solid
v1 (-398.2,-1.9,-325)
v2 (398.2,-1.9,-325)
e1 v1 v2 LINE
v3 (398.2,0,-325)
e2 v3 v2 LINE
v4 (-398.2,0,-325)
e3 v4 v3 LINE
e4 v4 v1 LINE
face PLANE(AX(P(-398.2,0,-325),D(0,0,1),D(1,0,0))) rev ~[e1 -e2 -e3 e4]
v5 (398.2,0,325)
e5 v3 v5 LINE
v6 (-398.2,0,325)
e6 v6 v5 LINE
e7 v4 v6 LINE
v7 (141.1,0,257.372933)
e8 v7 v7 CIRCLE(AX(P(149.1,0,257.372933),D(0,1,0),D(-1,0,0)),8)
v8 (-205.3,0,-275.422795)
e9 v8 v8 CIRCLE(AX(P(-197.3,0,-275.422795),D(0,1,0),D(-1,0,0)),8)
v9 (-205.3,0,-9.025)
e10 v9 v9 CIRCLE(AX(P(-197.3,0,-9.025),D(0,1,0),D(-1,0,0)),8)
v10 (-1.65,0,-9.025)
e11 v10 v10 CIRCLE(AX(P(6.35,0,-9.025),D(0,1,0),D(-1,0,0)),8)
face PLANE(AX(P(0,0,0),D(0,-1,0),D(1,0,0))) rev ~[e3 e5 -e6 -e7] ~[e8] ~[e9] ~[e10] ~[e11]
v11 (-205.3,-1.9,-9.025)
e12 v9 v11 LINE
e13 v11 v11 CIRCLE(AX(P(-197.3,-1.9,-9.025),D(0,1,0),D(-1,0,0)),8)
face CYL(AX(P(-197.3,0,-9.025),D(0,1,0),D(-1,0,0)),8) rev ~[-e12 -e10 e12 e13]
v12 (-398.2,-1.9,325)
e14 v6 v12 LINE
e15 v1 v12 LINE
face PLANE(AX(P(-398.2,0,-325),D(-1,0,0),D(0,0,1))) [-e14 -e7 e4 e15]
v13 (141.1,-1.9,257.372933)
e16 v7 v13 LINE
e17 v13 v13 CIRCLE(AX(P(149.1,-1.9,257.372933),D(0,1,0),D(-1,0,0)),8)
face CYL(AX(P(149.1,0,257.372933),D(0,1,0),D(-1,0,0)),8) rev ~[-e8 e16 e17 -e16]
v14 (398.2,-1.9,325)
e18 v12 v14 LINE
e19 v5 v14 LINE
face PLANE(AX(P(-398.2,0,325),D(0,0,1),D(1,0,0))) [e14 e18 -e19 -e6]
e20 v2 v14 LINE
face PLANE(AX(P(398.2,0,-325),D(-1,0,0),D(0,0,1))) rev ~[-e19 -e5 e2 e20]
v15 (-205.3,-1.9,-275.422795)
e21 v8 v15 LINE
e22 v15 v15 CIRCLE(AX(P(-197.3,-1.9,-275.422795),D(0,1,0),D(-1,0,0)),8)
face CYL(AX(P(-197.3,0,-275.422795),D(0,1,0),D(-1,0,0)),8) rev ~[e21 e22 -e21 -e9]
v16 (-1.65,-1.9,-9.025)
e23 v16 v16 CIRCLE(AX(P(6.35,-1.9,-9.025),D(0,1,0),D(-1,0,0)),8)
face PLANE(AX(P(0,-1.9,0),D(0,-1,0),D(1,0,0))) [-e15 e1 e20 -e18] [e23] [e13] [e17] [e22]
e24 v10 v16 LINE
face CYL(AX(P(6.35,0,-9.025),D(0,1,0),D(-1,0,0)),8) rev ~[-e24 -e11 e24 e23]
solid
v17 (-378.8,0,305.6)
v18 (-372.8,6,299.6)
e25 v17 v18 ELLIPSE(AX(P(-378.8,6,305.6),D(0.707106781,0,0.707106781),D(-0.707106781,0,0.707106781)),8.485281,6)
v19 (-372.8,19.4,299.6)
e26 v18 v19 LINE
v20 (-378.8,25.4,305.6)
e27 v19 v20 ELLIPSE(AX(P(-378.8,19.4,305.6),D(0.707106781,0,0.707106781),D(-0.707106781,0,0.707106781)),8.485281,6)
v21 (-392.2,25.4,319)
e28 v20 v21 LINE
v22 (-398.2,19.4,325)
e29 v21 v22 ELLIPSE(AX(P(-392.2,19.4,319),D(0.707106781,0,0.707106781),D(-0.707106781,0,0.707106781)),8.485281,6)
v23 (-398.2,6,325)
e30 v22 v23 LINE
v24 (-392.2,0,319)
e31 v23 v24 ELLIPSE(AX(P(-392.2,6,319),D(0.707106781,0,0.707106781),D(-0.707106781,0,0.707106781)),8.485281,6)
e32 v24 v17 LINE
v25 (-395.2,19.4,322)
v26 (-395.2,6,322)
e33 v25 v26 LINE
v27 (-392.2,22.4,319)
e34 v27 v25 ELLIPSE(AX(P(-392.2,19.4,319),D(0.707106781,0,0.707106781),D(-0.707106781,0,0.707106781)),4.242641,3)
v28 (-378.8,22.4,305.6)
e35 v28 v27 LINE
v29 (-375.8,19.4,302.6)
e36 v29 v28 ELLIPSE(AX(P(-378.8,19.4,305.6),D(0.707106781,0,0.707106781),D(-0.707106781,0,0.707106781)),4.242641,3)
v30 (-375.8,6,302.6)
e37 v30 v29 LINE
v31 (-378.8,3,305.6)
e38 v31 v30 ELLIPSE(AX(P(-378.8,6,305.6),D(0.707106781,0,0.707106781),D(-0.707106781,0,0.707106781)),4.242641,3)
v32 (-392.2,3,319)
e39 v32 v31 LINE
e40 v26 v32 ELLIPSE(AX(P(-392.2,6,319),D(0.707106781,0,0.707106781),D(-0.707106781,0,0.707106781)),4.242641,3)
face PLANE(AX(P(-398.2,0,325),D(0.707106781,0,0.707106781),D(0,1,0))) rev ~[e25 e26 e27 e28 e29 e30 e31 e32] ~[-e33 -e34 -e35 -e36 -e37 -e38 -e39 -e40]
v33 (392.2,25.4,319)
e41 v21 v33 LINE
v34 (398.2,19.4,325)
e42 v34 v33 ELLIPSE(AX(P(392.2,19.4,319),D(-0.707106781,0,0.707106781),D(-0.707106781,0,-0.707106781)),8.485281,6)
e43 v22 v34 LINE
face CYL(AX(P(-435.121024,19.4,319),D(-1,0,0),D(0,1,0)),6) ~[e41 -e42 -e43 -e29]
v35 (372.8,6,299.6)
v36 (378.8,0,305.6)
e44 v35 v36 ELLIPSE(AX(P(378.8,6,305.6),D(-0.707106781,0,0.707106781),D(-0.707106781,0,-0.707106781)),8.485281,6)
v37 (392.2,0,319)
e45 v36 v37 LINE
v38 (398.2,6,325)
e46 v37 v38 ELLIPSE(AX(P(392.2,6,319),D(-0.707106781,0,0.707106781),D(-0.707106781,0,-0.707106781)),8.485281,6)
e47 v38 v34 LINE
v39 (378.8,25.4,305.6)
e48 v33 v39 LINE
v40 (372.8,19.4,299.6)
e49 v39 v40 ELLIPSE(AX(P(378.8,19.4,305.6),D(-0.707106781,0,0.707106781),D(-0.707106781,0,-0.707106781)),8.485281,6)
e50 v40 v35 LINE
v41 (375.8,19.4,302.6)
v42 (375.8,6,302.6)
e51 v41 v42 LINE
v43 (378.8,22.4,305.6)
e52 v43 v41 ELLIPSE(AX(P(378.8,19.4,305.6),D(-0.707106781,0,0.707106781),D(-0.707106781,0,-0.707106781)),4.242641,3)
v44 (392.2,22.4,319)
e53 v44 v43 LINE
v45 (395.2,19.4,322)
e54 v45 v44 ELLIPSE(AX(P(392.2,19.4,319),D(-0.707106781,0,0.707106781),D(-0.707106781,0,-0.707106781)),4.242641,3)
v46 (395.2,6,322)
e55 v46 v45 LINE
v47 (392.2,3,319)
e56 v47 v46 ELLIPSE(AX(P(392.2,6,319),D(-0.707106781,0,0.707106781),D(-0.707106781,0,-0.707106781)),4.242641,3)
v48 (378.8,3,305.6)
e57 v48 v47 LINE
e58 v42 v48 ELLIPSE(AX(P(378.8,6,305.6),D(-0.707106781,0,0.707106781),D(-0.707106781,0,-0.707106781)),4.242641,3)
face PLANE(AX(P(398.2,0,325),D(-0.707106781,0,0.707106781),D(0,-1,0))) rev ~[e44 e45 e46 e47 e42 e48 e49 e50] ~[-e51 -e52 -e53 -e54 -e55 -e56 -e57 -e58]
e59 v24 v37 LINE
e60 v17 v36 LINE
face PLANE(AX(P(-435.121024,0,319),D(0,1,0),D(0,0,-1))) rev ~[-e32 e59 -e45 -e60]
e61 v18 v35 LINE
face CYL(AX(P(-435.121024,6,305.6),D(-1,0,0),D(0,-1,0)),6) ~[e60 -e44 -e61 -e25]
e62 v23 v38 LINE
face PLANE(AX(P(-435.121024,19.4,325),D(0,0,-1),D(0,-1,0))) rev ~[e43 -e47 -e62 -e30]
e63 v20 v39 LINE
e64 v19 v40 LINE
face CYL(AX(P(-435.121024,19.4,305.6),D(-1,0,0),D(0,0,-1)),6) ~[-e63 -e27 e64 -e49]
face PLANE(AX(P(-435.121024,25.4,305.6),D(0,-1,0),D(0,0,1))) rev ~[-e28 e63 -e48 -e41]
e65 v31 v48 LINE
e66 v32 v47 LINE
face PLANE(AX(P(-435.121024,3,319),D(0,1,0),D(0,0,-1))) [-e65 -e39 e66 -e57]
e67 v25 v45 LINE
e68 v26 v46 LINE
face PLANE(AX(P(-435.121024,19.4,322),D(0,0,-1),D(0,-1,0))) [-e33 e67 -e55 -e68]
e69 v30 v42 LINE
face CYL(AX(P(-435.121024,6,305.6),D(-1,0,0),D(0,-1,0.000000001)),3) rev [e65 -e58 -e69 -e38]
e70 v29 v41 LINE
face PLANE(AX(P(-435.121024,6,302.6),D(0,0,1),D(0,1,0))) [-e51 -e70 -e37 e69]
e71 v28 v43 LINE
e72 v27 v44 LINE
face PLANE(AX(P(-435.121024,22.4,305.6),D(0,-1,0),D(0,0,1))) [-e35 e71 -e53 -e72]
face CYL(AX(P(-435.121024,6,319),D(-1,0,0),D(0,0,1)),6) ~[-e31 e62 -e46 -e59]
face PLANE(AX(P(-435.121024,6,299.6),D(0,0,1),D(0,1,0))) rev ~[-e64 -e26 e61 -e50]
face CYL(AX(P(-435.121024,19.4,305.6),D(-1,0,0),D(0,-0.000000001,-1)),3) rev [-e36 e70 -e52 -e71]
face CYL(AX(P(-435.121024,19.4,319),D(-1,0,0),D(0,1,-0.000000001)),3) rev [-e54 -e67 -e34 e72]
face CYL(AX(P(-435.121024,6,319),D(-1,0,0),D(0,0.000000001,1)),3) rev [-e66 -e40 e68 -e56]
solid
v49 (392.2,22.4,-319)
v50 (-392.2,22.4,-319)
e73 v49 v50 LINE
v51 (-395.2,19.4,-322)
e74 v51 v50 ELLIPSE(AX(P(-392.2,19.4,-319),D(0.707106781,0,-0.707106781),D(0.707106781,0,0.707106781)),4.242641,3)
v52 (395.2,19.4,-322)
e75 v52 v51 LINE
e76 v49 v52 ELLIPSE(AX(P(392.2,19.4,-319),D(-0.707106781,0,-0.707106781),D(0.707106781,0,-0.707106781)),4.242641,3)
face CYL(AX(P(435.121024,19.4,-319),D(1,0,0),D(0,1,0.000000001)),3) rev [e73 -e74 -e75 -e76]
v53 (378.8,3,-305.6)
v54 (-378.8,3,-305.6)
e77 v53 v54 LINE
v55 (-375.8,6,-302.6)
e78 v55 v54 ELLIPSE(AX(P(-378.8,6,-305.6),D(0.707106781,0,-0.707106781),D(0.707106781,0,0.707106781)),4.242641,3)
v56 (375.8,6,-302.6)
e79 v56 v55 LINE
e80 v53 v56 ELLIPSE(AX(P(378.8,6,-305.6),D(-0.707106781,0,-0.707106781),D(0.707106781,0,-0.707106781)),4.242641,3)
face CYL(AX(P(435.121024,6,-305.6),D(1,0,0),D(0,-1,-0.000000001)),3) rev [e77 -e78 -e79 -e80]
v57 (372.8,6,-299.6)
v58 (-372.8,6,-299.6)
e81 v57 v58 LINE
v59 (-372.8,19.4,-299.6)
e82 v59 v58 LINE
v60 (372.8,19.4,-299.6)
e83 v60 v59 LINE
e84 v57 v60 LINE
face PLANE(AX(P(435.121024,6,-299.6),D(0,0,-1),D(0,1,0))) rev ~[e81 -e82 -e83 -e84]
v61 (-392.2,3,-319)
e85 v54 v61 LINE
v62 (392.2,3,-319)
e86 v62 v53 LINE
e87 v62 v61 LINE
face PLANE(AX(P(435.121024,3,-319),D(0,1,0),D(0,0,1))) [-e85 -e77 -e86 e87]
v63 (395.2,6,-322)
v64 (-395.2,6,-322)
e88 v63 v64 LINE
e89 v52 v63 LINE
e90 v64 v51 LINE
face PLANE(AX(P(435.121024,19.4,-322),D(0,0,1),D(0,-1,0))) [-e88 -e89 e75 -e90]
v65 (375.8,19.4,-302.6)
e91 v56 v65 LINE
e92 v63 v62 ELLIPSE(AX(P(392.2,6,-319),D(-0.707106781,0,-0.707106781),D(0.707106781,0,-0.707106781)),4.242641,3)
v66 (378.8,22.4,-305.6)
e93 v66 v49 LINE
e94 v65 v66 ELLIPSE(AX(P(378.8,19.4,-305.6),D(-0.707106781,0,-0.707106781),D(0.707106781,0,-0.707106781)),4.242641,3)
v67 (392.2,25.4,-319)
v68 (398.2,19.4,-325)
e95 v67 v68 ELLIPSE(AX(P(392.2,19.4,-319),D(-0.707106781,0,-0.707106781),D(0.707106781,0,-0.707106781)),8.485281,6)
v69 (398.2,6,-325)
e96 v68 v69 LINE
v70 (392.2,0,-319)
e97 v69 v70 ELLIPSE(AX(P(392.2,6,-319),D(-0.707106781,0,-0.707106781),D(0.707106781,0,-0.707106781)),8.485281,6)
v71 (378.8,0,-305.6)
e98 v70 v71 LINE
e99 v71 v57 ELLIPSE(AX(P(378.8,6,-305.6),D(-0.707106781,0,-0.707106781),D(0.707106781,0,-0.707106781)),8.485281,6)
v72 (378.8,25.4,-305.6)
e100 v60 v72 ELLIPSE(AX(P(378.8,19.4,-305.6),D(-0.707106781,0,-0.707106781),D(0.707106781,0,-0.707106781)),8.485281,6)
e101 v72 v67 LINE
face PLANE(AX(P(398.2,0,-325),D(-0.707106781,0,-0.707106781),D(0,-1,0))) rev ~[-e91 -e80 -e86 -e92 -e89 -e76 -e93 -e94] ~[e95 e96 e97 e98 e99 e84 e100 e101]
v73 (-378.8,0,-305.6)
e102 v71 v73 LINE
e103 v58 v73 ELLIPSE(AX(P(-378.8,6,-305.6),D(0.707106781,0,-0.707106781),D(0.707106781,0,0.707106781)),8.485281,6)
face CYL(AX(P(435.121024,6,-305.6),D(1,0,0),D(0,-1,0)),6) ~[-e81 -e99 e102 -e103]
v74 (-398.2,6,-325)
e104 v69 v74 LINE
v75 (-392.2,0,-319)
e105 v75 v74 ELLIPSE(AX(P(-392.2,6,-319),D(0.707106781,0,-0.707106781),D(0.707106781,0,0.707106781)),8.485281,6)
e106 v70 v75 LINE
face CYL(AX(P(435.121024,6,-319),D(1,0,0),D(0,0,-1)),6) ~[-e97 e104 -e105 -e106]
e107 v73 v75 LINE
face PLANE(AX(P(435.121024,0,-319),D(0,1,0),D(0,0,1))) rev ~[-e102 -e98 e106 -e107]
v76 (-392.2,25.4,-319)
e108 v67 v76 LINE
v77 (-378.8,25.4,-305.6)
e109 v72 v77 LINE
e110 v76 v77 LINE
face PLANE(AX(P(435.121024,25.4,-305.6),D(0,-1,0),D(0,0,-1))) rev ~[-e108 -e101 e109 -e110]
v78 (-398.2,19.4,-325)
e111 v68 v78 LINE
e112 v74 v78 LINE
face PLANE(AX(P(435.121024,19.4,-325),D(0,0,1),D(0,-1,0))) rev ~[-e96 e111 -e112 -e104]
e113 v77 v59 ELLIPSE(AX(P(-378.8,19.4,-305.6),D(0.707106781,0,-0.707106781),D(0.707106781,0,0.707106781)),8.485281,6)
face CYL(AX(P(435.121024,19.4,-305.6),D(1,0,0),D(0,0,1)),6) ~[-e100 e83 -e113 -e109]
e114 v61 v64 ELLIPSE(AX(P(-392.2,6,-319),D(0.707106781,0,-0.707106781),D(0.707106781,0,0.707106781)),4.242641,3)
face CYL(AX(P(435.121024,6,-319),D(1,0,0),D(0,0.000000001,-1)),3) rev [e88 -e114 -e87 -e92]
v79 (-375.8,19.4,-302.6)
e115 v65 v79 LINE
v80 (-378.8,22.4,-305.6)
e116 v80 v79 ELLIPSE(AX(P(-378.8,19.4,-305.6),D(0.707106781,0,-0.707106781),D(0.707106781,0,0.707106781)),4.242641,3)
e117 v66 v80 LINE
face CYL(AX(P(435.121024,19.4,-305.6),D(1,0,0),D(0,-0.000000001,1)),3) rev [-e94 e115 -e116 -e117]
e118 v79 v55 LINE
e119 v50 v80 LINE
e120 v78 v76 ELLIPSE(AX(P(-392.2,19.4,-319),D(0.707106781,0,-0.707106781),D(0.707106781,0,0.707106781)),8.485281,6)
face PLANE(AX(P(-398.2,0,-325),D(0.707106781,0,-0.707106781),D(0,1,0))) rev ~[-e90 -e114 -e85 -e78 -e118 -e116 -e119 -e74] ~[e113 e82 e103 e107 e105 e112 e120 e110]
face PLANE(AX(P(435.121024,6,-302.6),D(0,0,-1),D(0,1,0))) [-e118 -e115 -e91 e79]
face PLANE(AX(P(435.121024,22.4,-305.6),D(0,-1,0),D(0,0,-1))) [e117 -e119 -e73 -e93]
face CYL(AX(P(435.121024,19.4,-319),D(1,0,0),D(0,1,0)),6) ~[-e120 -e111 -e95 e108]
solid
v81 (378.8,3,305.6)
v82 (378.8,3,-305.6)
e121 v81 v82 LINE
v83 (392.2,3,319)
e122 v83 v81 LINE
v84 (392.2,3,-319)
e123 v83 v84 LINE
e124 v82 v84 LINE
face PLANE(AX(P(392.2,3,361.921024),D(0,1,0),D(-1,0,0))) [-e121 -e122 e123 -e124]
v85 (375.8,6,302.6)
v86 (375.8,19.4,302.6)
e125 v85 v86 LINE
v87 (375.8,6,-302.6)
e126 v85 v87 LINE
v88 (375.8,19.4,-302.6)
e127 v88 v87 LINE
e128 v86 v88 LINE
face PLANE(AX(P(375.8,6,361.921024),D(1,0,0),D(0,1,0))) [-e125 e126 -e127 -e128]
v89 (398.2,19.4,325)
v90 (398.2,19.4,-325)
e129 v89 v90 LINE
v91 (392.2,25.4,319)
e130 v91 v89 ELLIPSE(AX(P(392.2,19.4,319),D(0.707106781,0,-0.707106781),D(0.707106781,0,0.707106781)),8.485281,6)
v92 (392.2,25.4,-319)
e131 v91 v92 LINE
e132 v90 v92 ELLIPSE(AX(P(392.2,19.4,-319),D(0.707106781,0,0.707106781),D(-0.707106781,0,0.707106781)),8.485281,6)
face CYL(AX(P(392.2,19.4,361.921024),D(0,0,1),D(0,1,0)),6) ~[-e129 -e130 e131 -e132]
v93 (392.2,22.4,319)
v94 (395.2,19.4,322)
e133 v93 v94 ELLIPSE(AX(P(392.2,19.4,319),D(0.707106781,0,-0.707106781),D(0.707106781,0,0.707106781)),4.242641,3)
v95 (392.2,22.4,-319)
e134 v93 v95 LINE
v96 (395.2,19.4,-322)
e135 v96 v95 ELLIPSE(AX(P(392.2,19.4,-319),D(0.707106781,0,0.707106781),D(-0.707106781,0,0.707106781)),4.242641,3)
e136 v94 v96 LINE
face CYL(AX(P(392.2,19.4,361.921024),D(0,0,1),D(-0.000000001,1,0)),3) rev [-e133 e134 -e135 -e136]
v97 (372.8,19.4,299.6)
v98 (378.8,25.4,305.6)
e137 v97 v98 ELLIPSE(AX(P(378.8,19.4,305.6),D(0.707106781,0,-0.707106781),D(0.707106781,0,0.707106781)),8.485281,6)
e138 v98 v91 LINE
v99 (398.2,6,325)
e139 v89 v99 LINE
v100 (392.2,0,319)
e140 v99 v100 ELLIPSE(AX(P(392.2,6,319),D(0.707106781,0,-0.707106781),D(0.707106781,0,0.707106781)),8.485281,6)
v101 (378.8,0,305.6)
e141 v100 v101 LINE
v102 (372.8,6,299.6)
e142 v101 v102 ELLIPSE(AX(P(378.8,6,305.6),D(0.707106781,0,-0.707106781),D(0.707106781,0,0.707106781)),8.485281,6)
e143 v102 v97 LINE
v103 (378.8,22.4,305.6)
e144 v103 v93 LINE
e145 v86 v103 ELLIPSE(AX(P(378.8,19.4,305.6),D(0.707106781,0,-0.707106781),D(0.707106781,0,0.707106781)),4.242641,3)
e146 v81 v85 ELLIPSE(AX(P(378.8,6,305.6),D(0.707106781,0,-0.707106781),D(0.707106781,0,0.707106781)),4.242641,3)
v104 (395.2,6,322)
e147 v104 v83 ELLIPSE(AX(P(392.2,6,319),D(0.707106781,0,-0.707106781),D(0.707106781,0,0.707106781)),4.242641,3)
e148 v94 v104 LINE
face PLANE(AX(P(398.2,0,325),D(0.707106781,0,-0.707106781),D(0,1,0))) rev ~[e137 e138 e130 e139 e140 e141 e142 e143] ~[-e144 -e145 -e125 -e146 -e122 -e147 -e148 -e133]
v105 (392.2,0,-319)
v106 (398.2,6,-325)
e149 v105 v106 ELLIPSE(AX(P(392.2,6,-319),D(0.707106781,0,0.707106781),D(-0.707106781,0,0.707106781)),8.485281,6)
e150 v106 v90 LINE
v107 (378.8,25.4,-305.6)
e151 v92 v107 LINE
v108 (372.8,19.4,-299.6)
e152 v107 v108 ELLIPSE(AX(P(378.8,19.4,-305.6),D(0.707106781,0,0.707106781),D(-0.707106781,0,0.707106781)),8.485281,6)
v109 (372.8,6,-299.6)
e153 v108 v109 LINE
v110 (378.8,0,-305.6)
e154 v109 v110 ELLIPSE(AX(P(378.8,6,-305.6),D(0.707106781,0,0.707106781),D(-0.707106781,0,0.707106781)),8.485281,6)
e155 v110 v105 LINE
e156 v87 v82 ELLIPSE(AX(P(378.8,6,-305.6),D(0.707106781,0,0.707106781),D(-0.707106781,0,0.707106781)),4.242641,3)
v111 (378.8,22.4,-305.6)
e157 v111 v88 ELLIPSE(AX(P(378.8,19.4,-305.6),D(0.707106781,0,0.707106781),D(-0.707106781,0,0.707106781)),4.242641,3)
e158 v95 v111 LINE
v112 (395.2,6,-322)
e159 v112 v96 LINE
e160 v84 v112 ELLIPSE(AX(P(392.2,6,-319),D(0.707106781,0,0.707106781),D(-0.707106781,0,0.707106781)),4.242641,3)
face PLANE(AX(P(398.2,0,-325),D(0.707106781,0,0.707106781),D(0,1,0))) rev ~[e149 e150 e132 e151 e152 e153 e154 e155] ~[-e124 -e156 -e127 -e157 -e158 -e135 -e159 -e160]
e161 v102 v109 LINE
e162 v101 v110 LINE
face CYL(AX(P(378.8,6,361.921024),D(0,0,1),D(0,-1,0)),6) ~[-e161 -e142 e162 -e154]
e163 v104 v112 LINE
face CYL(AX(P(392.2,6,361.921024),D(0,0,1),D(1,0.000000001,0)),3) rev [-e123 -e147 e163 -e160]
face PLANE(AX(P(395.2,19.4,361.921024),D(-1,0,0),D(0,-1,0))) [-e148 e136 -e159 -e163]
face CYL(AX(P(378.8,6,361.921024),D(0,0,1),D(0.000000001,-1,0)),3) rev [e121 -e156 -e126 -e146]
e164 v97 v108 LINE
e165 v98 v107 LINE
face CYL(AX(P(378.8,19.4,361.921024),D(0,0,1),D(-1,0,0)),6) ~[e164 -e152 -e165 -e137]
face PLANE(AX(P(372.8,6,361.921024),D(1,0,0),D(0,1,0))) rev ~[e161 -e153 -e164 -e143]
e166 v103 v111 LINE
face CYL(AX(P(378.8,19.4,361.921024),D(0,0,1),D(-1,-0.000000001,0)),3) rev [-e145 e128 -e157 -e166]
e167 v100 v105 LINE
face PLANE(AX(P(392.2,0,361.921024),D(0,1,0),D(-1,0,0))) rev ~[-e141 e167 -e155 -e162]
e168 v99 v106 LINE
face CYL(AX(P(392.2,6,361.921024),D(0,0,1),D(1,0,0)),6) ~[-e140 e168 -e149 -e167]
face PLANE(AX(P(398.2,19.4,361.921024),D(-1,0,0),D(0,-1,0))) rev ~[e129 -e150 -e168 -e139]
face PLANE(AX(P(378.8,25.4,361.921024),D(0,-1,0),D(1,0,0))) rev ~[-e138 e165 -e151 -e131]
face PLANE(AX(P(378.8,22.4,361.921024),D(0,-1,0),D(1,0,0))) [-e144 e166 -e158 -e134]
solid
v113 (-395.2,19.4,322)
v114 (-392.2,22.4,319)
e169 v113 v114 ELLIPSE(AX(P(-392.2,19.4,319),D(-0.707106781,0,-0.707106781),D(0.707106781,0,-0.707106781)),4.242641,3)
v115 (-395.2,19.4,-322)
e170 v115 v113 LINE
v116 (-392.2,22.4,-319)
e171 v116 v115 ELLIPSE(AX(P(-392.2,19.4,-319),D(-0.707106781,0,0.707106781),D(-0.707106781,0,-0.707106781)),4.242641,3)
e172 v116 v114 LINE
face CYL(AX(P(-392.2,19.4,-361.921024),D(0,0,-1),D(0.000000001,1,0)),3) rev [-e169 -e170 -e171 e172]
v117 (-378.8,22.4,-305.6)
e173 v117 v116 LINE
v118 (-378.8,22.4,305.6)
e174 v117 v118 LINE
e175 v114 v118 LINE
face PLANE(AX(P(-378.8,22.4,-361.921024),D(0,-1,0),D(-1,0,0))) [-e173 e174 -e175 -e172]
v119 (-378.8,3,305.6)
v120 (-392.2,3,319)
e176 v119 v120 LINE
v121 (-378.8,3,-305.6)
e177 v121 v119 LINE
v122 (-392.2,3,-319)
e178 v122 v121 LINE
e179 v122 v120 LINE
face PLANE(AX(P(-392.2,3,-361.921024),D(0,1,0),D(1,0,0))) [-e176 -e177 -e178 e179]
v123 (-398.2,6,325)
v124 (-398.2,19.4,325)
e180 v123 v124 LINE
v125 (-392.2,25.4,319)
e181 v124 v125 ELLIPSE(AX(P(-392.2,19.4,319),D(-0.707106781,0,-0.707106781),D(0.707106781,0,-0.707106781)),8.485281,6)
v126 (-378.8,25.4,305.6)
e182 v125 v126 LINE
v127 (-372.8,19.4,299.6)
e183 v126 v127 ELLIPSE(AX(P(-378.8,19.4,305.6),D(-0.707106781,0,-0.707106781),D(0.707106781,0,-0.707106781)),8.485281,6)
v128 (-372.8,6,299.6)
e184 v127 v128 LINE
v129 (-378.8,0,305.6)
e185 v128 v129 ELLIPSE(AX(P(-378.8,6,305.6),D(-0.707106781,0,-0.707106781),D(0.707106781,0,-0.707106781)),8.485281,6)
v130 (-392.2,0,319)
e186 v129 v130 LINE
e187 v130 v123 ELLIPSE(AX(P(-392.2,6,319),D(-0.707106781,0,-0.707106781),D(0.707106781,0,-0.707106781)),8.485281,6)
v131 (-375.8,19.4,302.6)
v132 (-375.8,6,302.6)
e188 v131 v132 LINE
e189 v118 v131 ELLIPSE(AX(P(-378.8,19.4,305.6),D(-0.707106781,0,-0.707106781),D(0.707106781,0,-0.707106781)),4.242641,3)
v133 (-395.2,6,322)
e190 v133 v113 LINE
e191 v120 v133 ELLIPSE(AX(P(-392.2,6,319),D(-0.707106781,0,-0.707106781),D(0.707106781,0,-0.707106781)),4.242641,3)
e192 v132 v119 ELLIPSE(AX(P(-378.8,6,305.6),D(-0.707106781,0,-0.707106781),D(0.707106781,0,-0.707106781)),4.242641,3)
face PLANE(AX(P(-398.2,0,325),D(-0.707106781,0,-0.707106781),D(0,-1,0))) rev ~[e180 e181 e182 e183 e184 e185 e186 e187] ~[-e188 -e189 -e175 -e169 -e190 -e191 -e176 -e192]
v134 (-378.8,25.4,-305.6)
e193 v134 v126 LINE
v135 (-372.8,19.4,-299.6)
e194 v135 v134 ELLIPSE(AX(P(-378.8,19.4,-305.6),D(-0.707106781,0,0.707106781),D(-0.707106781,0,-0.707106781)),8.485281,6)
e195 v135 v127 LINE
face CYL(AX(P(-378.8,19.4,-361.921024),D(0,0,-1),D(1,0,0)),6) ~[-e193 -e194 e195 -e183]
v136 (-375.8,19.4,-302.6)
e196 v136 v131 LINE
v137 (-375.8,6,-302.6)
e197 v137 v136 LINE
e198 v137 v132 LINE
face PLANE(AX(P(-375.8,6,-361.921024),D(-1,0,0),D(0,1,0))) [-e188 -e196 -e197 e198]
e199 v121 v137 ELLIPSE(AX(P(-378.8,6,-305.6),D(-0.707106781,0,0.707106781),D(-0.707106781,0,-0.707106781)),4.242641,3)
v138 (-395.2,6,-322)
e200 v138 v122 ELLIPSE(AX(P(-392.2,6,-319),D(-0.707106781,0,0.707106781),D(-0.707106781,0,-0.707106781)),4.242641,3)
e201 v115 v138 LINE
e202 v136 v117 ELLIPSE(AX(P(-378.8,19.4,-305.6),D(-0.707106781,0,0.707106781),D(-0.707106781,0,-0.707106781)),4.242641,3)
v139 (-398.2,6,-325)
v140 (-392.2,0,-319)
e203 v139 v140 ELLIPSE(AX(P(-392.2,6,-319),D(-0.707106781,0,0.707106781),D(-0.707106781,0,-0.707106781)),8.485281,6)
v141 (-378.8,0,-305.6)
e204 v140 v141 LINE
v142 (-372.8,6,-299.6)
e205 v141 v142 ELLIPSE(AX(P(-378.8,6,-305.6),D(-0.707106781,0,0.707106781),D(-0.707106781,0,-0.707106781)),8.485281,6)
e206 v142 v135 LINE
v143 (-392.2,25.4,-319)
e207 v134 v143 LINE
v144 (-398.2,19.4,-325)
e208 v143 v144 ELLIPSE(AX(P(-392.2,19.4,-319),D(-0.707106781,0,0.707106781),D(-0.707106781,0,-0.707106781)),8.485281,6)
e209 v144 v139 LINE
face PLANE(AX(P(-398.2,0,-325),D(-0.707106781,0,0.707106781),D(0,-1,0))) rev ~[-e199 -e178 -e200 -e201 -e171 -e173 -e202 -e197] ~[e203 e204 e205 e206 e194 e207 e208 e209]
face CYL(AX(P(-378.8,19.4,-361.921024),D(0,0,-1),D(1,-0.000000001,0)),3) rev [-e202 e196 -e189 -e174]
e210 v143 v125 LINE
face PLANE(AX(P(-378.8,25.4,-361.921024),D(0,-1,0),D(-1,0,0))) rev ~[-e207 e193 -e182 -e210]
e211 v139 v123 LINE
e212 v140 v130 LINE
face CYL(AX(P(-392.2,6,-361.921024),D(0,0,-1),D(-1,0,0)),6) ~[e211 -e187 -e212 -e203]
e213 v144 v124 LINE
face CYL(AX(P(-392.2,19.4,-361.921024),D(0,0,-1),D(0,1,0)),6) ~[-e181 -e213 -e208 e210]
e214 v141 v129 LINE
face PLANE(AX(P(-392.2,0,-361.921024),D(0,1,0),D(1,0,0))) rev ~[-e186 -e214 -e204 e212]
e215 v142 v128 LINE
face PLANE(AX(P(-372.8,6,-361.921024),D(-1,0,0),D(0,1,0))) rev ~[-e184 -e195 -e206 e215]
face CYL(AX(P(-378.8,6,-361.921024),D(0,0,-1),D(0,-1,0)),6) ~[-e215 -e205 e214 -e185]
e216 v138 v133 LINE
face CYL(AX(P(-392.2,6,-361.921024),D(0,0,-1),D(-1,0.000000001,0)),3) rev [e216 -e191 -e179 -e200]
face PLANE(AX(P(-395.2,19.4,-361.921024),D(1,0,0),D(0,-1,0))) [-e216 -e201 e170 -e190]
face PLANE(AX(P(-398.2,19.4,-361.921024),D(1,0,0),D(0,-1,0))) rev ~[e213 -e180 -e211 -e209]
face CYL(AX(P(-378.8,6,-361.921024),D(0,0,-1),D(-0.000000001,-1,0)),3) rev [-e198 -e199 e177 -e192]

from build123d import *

# Parameters (mm, degrees)
TUBO_CUADRADO_2_X_2_X_0_25_1_DEPTH      = 686.921024484
TUBO_CUADRADO_2_X_2_X_0_25_1_DEPTH_BACK = 36.921024484
TUBO_CUADRADO_2_X_2_X_0_25_1_2_DEPTH    = 870.242048969
TUBO_CUADRADO_2_X_2_X_0_25_1_3_DEPTH    = 723.842048969
TUBO_CUADRADO_2_X_2_X_0_25_1_4_DEPTH    = 870.242048969
CROQUIS3_W                              = 796.4
CROQUIS3_H                              = 650
SALIENTE_EXTRUIR1_DEPTH                 = 1.9
CROQUIS5_R                              = 8
CORTAR_EXTRUIR1_DEPTH                   = 10


with BuildPart() as part:
    # Sketch1 → Tubo cuadrado 2 X 2 X 0.25(1) (new, two sides: drawn at the far end of the back side and taken through both)
    with BuildSketch(Plane(origin=(-385.5, 12.7, -325), x_dir=(1, 0, 0), z_dir=(0, 0, 1)).offset(-TUBO_CUADRADO_2_X_2_X_0_25_1_DEPTH_BACK)):
        with BuildLine():
            Line((-6.7, -12.7), (6.7, -12.7))
            ThreePointArc((6.7, -12.7), (10.942640687, -10.942640687), (12.7, -6.7))
            Line((12.7, -6.7), (12.7, 6.7))
            ThreePointArc((12.7, 6.7), (10.942640687, 10.942640687), (6.7, 12.7))
            Line((6.7, 12.7), (-6.7, 12.7))
            ThreePointArc((-6.7, 12.7), (-10.942640687, 10.942640687), (-12.7, 6.7))
            Line((-12.7, 6.7), (-12.7, -6.7))
            ThreePointArc((-12.7, -6.7), (-10.942640687, -10.942640687), (-6.7, -12.7))
        make_face()
        with BuildLine():
            Line((-6.7, -9.7), (6.7, -9.7))
            ThreePointArc((6.7, -9.7), (8.821320344, -8.821320344), (9.7, -6.7))
            Line((9.7, -6.7), (9.7, 6.7))
            ThreePointArc((9.7, 6.7), (8.821320344, 8.821320344), (6.7, 9.7))
            Line((6.7, 9.7), (-6.7, 9.7))
            ThreePointArc((-6.7, 9.7), (-8.821320344, 8.821320344), (-9.7, 6.7))
            Line((-9.7, 6.7), (-9.7, -6.7))
            ThreePointArc((-9.7, -6.7), (-8.821320344, -8.821320344), (-6.7, -9.7))
        make_face(mode=Mode.SUBTRACT)
    extrude(amount=TUBO_CUADRADO_2_X_2_X_0_25_1_DEPTH + TUBO_CUADRADO_2_X_2_X_0_25_1_DEPTH_BACK)

    # Tubo cuadrado 2 X 2 X 0.25(1) mitre 1
    split(bisect_by=Plane(origin=(-398.2, 0, -325), x_dir=(0, -1, 0), z_dir=(-0.707106781, 0, 0.707106781)), keep=Keep.TOP)

    # Tubo cuadrado 2 X 2 X 0.25(1) mitre 2
    split(bisect_by=Plane(origin=(-398.2, 0, 325), x_dir=(0, -1, 0), z_dir=(-0.707106781, 0, -0.707106781)), keep=Keep.TOP)


with BuildPart() as body_2:
    # Sketch1 on segment 2 (carried to segment 2) → Tubo cuadrado 2 X 2 X 0.25_1 2 (new body)
    with BuildSketch(Plane(origin=(-435.121024484, 12.7, 312.3), x_dir=(0, 0, -1), z_dir=(1, 0, 0))):
        with BuildLine():
            Line((-6.7, -12.7), (6.7, -12.7))
            ThreePointArc((6.7, -12.7), (10.942640687, -10.942640687), (12.7, -6.7))
            Line((12.7, -6.7), (12.7, 6.7))
            ThreePointArc((12.7, 6.7), (10.942640687, 10.942640687), (6.7, 12.7))
            Line((6.7, 12.7), (-6.7, 12.7))
            ThreePointArc((-6.7, 12.7), (-10.942640687, 10.942640687), (-12.7, 6.7))
            Line((-12.7, 6.7), (-12.7, -6.7))
            ThreePointArc((-12.7, -6.7), (-10.942640687, -10.942640687), (-6.7, -12.7))
        make_face()
        with BuildLine():
            Line((-6.7, -9.7), (6.7, -9.7))
            ThreePointArc((6.7, -9.7), (8.821320344, -8.821320344), (9.7, -6.7))
            Line((9.7, -6.7), (9.7, 6.7))
            ThreePointArc((9.7, 6.7), (8.821320344, 8.821320344), (6.7, 9.7))
            Line((6.7, 9.7), (-6.7, 9.7))
            ThreePointArc((-6.7, 9.7), (-8.821320344, 8.821320344), (-9.7, 6.7))
            Line((-9.7, 6.7), (-9.7, -6.7))
            ThreePointArc((-9.7, -6.7), (-8.821320344, -8.821320344), (-6.7, -9.7))
        make_face(mode=Mode.SUBTRACT)
    extrude(amount=TUBO_CUADRADO_2_X_2_X_0_25_1_2_DEPTH)

    # Tubo cuadrado 2 X 2 X 0.25_1 2 mitre 1
    split(bisect_by=Plane(origin=(-398.2, 0, 325), x_dir=(0, 1, 0), z_dir=(0.707106781, 0, 0.707106781)), keep=Keep.TOP)

    # Tubo cuadrado 2 X 2 X 0.25_1 2 mitre 2
    split(bisect_by=Plane(origin=(398.2, 0, 325), x_dir=(0, -1, 0), z_dir=(-0.707106781, 0, 0.707106781)), keep=Keep.TOP)


with BuildPart() as body_3:
    # Sketch1 on segment 3 (carried to segment 3) → Tubo cuadrado 2 X 2 X 0.25_1 3 (new body)
    with BuildSketch(Plane(origin=(385.5, 12.7, 361.921024484), x_dir=(-1, 0, 0), z_dir=(0, 0, -1))):
        with BuildLine():
            Line((-6.7, -12.7), (6.7, -12.7))
            ThreePointArc((6.7, -12.7), (10.942640687, -10.942640687), (12.7, -6.7))
            Line((12.7, -6.7), (12.7, 6.7))
            ThreePointArc((12.7, 6.7), (10.942640687, 10.942640687), (6.7, 12.7))
            Line((6.7, 12.7), (-6.7, 12.7))
            ThreePointArc((-6.7, 12.7), (-10.942640687, 10.942640687), (-12.7, 6.7))
            Line((-12.7, 6.7), (-12.7, -6.7))
            ThreePointArc((-12.7, -6.7), (-10.942640687, -10.942640687), (-6.7, -12.7))
        make_face()
        with BuildLine():
            Line((-6.7, -9.7), (6.7, -9.7))
            ThreePointArc((6.7, -9.7), (8.821320344, -8.821320344), (9.7, -6.7))
            Line((9.7, -6.7), (9.7, 6.7))
            ThreePointArc((9.7, 6.7), (8.821320344, 8.821320344), (6.7, 9.7))
            Line((6.7, 9.7), (-6.7, 9.7))
            ThreePointArc((-6.7, 9.7), (-8.821320344, 8.821320344), (-9.7, 6.7))
            Line((-9.7, 6.7), (-9.7, -6.7))
            ThreePointArc((-9.7, -6.7), (-8.821320344, -8.821320344), (-6.7, -9.7))
        make_face(mode=Mode.SUBTRACT)
    extrude(amount=TUBO_CUADRADO_2_X_2_X_0_25_1_3_DEPTH)

    # Tubo cuadrado 2 X 2 X 0.25_1 3 mitre 1
    split(bisect_by=Plane(origin=(398.2, 0, -325), x_dir=(0, 1, 0), z_dir=(0.707106781, 0, 0.707106781)), keep=Keep.TOP)

    # Tubo cuadrado 2 X 2 X 0.25_1 3 mitre 2
    split(bisect_by=Plane(origin=(398.2, 0, 325), x_dir=(0, 1, 0), z_dir=(0.707106781, 0, -0.707106781)), keep=Keep.TOP)


with BuildPart() as body_4:
    # Sketch1 on segment 4 (carried to segment 4) → Tubo cuadrado 2 X 2 X 0.25_1 4 (new body)
    with BuildSketch(Plane(origin=(435.121024484, 12.7, -312.3), x_dir=(0, 0, 1), z_dir=(-1, 0, 0))):
        with BuildLine():
            Line((-6.7, -12.7), (6.7, -12.7))
            ThreePointArc((6.7, -12.7), (10.942640687, -10.942640687), (12.7, -6.7))
            Line((12.7, -6.7), (12.7, 6.7))
            ThreePointArc((12.7, 6.7), (10.942640687, 10.942640687), (6.7, 12.7))
            Line((6.7, 12.7), (-6.7, 12.7))
            ThreePointArc((-6.7, 12.7), (-10.942640687, 10.942640687), (-12.7, 6.7))
            Line((-12.7, 6.7), (-12.7, -6.7))
            ThreePointArc((-12.7, -6.7), (-10.942640687, -10.942640687), (-6.7, -12.7))
        make_face()
        with BuildLine():
            Line((-6.7, -9.7), (6.7, -9.7))
            ThreePointArc((6.7, -9.7), (8.821320344, -8.821320344), (9.7, -6.7))
            Line((9.7, -6.7), (9.7, 6.7))
            ThreePointArc((9.7, 6.7), (8.821320344, 8.821320344), (6.7, 9.7))
            Line((6.7, 9.7), (-6.7, 9.7))
            ThreePointArc((-6.7, 9.7), (-8.821320344, 8.821320344), (-9.7, 6.7))
            Line((-9.7, 6.7), (-9.7, -6.7))
            ThreePointArc((-9.7, -6.7), (-8.821320344, -8.821320344), (-6.7, -9.7))
        make_face(mode=Mode.SUBTRACT)
    extrude(amount=TUBO_CUADRADO_2_X_2_X_0_25_1_4_DEPTH)

    # Tubo cuadrado 2 X 2 X 0.25_1 4 mitre 1
    split(bisect_by=Plane(origin=(-398.2, 0, -325), x_dir=(0, 1, 0), z_dir=(0.707106781, 0, -0.707106781)), keep=Keep.TOP)

    # Tubo cuadrado 2 X 2 X 0.25_1 4 mitre 2
    split(bisect_by=Plane(origin=(398.2, 0, -325), x_dir=(0, -1, 0), z_dir=(-0.707106781, 0, -0.707106781)), keep=Keep.TOP)


with BuildPart() as body_5:
    # Croquis3 → Saliente-Extruir1 (new body)
    with BuildSketch(Plane.XZ):
        Rectangle(CROQUIS3_W, CROQUIS3_H)
    extrude(amount=SALIENTE_EXTRUIR1_DEPTH)

    # Croquis5 → Cortar-Extruir1 (cut)
    with BuildSketch(Plane(origin=(0, 0, 0), x_dir=(1, 0, 0), z_dir=(0, 1, 0))):
        with Locations(Location((149.099999998, -257.372933, 0), (0, 0, 180))):
            Circle(CROQUIS5_R)
        with Locations(Location((6.349999921, 9.025, 0), (0, 0, 180))):
            Circle(CROQUIS5_R)
        with Locations(Location((-197.299999999, 9.025, 0), (0, 0, 180))):
            Circle(CROQUIS5_R)
        with Locations(Location((-197.299999999, 275.422795334, 0), (0, 0, 180))):
            Circle(CROQUIS5_R)
    extrude(amount=-CORTAR_EXTRUIR1_DEPTH, mode=Mode.SUBTRACT)


solid = Compound([part.part, body_2.part, body_3.part, body_4.part, body_5.part])
